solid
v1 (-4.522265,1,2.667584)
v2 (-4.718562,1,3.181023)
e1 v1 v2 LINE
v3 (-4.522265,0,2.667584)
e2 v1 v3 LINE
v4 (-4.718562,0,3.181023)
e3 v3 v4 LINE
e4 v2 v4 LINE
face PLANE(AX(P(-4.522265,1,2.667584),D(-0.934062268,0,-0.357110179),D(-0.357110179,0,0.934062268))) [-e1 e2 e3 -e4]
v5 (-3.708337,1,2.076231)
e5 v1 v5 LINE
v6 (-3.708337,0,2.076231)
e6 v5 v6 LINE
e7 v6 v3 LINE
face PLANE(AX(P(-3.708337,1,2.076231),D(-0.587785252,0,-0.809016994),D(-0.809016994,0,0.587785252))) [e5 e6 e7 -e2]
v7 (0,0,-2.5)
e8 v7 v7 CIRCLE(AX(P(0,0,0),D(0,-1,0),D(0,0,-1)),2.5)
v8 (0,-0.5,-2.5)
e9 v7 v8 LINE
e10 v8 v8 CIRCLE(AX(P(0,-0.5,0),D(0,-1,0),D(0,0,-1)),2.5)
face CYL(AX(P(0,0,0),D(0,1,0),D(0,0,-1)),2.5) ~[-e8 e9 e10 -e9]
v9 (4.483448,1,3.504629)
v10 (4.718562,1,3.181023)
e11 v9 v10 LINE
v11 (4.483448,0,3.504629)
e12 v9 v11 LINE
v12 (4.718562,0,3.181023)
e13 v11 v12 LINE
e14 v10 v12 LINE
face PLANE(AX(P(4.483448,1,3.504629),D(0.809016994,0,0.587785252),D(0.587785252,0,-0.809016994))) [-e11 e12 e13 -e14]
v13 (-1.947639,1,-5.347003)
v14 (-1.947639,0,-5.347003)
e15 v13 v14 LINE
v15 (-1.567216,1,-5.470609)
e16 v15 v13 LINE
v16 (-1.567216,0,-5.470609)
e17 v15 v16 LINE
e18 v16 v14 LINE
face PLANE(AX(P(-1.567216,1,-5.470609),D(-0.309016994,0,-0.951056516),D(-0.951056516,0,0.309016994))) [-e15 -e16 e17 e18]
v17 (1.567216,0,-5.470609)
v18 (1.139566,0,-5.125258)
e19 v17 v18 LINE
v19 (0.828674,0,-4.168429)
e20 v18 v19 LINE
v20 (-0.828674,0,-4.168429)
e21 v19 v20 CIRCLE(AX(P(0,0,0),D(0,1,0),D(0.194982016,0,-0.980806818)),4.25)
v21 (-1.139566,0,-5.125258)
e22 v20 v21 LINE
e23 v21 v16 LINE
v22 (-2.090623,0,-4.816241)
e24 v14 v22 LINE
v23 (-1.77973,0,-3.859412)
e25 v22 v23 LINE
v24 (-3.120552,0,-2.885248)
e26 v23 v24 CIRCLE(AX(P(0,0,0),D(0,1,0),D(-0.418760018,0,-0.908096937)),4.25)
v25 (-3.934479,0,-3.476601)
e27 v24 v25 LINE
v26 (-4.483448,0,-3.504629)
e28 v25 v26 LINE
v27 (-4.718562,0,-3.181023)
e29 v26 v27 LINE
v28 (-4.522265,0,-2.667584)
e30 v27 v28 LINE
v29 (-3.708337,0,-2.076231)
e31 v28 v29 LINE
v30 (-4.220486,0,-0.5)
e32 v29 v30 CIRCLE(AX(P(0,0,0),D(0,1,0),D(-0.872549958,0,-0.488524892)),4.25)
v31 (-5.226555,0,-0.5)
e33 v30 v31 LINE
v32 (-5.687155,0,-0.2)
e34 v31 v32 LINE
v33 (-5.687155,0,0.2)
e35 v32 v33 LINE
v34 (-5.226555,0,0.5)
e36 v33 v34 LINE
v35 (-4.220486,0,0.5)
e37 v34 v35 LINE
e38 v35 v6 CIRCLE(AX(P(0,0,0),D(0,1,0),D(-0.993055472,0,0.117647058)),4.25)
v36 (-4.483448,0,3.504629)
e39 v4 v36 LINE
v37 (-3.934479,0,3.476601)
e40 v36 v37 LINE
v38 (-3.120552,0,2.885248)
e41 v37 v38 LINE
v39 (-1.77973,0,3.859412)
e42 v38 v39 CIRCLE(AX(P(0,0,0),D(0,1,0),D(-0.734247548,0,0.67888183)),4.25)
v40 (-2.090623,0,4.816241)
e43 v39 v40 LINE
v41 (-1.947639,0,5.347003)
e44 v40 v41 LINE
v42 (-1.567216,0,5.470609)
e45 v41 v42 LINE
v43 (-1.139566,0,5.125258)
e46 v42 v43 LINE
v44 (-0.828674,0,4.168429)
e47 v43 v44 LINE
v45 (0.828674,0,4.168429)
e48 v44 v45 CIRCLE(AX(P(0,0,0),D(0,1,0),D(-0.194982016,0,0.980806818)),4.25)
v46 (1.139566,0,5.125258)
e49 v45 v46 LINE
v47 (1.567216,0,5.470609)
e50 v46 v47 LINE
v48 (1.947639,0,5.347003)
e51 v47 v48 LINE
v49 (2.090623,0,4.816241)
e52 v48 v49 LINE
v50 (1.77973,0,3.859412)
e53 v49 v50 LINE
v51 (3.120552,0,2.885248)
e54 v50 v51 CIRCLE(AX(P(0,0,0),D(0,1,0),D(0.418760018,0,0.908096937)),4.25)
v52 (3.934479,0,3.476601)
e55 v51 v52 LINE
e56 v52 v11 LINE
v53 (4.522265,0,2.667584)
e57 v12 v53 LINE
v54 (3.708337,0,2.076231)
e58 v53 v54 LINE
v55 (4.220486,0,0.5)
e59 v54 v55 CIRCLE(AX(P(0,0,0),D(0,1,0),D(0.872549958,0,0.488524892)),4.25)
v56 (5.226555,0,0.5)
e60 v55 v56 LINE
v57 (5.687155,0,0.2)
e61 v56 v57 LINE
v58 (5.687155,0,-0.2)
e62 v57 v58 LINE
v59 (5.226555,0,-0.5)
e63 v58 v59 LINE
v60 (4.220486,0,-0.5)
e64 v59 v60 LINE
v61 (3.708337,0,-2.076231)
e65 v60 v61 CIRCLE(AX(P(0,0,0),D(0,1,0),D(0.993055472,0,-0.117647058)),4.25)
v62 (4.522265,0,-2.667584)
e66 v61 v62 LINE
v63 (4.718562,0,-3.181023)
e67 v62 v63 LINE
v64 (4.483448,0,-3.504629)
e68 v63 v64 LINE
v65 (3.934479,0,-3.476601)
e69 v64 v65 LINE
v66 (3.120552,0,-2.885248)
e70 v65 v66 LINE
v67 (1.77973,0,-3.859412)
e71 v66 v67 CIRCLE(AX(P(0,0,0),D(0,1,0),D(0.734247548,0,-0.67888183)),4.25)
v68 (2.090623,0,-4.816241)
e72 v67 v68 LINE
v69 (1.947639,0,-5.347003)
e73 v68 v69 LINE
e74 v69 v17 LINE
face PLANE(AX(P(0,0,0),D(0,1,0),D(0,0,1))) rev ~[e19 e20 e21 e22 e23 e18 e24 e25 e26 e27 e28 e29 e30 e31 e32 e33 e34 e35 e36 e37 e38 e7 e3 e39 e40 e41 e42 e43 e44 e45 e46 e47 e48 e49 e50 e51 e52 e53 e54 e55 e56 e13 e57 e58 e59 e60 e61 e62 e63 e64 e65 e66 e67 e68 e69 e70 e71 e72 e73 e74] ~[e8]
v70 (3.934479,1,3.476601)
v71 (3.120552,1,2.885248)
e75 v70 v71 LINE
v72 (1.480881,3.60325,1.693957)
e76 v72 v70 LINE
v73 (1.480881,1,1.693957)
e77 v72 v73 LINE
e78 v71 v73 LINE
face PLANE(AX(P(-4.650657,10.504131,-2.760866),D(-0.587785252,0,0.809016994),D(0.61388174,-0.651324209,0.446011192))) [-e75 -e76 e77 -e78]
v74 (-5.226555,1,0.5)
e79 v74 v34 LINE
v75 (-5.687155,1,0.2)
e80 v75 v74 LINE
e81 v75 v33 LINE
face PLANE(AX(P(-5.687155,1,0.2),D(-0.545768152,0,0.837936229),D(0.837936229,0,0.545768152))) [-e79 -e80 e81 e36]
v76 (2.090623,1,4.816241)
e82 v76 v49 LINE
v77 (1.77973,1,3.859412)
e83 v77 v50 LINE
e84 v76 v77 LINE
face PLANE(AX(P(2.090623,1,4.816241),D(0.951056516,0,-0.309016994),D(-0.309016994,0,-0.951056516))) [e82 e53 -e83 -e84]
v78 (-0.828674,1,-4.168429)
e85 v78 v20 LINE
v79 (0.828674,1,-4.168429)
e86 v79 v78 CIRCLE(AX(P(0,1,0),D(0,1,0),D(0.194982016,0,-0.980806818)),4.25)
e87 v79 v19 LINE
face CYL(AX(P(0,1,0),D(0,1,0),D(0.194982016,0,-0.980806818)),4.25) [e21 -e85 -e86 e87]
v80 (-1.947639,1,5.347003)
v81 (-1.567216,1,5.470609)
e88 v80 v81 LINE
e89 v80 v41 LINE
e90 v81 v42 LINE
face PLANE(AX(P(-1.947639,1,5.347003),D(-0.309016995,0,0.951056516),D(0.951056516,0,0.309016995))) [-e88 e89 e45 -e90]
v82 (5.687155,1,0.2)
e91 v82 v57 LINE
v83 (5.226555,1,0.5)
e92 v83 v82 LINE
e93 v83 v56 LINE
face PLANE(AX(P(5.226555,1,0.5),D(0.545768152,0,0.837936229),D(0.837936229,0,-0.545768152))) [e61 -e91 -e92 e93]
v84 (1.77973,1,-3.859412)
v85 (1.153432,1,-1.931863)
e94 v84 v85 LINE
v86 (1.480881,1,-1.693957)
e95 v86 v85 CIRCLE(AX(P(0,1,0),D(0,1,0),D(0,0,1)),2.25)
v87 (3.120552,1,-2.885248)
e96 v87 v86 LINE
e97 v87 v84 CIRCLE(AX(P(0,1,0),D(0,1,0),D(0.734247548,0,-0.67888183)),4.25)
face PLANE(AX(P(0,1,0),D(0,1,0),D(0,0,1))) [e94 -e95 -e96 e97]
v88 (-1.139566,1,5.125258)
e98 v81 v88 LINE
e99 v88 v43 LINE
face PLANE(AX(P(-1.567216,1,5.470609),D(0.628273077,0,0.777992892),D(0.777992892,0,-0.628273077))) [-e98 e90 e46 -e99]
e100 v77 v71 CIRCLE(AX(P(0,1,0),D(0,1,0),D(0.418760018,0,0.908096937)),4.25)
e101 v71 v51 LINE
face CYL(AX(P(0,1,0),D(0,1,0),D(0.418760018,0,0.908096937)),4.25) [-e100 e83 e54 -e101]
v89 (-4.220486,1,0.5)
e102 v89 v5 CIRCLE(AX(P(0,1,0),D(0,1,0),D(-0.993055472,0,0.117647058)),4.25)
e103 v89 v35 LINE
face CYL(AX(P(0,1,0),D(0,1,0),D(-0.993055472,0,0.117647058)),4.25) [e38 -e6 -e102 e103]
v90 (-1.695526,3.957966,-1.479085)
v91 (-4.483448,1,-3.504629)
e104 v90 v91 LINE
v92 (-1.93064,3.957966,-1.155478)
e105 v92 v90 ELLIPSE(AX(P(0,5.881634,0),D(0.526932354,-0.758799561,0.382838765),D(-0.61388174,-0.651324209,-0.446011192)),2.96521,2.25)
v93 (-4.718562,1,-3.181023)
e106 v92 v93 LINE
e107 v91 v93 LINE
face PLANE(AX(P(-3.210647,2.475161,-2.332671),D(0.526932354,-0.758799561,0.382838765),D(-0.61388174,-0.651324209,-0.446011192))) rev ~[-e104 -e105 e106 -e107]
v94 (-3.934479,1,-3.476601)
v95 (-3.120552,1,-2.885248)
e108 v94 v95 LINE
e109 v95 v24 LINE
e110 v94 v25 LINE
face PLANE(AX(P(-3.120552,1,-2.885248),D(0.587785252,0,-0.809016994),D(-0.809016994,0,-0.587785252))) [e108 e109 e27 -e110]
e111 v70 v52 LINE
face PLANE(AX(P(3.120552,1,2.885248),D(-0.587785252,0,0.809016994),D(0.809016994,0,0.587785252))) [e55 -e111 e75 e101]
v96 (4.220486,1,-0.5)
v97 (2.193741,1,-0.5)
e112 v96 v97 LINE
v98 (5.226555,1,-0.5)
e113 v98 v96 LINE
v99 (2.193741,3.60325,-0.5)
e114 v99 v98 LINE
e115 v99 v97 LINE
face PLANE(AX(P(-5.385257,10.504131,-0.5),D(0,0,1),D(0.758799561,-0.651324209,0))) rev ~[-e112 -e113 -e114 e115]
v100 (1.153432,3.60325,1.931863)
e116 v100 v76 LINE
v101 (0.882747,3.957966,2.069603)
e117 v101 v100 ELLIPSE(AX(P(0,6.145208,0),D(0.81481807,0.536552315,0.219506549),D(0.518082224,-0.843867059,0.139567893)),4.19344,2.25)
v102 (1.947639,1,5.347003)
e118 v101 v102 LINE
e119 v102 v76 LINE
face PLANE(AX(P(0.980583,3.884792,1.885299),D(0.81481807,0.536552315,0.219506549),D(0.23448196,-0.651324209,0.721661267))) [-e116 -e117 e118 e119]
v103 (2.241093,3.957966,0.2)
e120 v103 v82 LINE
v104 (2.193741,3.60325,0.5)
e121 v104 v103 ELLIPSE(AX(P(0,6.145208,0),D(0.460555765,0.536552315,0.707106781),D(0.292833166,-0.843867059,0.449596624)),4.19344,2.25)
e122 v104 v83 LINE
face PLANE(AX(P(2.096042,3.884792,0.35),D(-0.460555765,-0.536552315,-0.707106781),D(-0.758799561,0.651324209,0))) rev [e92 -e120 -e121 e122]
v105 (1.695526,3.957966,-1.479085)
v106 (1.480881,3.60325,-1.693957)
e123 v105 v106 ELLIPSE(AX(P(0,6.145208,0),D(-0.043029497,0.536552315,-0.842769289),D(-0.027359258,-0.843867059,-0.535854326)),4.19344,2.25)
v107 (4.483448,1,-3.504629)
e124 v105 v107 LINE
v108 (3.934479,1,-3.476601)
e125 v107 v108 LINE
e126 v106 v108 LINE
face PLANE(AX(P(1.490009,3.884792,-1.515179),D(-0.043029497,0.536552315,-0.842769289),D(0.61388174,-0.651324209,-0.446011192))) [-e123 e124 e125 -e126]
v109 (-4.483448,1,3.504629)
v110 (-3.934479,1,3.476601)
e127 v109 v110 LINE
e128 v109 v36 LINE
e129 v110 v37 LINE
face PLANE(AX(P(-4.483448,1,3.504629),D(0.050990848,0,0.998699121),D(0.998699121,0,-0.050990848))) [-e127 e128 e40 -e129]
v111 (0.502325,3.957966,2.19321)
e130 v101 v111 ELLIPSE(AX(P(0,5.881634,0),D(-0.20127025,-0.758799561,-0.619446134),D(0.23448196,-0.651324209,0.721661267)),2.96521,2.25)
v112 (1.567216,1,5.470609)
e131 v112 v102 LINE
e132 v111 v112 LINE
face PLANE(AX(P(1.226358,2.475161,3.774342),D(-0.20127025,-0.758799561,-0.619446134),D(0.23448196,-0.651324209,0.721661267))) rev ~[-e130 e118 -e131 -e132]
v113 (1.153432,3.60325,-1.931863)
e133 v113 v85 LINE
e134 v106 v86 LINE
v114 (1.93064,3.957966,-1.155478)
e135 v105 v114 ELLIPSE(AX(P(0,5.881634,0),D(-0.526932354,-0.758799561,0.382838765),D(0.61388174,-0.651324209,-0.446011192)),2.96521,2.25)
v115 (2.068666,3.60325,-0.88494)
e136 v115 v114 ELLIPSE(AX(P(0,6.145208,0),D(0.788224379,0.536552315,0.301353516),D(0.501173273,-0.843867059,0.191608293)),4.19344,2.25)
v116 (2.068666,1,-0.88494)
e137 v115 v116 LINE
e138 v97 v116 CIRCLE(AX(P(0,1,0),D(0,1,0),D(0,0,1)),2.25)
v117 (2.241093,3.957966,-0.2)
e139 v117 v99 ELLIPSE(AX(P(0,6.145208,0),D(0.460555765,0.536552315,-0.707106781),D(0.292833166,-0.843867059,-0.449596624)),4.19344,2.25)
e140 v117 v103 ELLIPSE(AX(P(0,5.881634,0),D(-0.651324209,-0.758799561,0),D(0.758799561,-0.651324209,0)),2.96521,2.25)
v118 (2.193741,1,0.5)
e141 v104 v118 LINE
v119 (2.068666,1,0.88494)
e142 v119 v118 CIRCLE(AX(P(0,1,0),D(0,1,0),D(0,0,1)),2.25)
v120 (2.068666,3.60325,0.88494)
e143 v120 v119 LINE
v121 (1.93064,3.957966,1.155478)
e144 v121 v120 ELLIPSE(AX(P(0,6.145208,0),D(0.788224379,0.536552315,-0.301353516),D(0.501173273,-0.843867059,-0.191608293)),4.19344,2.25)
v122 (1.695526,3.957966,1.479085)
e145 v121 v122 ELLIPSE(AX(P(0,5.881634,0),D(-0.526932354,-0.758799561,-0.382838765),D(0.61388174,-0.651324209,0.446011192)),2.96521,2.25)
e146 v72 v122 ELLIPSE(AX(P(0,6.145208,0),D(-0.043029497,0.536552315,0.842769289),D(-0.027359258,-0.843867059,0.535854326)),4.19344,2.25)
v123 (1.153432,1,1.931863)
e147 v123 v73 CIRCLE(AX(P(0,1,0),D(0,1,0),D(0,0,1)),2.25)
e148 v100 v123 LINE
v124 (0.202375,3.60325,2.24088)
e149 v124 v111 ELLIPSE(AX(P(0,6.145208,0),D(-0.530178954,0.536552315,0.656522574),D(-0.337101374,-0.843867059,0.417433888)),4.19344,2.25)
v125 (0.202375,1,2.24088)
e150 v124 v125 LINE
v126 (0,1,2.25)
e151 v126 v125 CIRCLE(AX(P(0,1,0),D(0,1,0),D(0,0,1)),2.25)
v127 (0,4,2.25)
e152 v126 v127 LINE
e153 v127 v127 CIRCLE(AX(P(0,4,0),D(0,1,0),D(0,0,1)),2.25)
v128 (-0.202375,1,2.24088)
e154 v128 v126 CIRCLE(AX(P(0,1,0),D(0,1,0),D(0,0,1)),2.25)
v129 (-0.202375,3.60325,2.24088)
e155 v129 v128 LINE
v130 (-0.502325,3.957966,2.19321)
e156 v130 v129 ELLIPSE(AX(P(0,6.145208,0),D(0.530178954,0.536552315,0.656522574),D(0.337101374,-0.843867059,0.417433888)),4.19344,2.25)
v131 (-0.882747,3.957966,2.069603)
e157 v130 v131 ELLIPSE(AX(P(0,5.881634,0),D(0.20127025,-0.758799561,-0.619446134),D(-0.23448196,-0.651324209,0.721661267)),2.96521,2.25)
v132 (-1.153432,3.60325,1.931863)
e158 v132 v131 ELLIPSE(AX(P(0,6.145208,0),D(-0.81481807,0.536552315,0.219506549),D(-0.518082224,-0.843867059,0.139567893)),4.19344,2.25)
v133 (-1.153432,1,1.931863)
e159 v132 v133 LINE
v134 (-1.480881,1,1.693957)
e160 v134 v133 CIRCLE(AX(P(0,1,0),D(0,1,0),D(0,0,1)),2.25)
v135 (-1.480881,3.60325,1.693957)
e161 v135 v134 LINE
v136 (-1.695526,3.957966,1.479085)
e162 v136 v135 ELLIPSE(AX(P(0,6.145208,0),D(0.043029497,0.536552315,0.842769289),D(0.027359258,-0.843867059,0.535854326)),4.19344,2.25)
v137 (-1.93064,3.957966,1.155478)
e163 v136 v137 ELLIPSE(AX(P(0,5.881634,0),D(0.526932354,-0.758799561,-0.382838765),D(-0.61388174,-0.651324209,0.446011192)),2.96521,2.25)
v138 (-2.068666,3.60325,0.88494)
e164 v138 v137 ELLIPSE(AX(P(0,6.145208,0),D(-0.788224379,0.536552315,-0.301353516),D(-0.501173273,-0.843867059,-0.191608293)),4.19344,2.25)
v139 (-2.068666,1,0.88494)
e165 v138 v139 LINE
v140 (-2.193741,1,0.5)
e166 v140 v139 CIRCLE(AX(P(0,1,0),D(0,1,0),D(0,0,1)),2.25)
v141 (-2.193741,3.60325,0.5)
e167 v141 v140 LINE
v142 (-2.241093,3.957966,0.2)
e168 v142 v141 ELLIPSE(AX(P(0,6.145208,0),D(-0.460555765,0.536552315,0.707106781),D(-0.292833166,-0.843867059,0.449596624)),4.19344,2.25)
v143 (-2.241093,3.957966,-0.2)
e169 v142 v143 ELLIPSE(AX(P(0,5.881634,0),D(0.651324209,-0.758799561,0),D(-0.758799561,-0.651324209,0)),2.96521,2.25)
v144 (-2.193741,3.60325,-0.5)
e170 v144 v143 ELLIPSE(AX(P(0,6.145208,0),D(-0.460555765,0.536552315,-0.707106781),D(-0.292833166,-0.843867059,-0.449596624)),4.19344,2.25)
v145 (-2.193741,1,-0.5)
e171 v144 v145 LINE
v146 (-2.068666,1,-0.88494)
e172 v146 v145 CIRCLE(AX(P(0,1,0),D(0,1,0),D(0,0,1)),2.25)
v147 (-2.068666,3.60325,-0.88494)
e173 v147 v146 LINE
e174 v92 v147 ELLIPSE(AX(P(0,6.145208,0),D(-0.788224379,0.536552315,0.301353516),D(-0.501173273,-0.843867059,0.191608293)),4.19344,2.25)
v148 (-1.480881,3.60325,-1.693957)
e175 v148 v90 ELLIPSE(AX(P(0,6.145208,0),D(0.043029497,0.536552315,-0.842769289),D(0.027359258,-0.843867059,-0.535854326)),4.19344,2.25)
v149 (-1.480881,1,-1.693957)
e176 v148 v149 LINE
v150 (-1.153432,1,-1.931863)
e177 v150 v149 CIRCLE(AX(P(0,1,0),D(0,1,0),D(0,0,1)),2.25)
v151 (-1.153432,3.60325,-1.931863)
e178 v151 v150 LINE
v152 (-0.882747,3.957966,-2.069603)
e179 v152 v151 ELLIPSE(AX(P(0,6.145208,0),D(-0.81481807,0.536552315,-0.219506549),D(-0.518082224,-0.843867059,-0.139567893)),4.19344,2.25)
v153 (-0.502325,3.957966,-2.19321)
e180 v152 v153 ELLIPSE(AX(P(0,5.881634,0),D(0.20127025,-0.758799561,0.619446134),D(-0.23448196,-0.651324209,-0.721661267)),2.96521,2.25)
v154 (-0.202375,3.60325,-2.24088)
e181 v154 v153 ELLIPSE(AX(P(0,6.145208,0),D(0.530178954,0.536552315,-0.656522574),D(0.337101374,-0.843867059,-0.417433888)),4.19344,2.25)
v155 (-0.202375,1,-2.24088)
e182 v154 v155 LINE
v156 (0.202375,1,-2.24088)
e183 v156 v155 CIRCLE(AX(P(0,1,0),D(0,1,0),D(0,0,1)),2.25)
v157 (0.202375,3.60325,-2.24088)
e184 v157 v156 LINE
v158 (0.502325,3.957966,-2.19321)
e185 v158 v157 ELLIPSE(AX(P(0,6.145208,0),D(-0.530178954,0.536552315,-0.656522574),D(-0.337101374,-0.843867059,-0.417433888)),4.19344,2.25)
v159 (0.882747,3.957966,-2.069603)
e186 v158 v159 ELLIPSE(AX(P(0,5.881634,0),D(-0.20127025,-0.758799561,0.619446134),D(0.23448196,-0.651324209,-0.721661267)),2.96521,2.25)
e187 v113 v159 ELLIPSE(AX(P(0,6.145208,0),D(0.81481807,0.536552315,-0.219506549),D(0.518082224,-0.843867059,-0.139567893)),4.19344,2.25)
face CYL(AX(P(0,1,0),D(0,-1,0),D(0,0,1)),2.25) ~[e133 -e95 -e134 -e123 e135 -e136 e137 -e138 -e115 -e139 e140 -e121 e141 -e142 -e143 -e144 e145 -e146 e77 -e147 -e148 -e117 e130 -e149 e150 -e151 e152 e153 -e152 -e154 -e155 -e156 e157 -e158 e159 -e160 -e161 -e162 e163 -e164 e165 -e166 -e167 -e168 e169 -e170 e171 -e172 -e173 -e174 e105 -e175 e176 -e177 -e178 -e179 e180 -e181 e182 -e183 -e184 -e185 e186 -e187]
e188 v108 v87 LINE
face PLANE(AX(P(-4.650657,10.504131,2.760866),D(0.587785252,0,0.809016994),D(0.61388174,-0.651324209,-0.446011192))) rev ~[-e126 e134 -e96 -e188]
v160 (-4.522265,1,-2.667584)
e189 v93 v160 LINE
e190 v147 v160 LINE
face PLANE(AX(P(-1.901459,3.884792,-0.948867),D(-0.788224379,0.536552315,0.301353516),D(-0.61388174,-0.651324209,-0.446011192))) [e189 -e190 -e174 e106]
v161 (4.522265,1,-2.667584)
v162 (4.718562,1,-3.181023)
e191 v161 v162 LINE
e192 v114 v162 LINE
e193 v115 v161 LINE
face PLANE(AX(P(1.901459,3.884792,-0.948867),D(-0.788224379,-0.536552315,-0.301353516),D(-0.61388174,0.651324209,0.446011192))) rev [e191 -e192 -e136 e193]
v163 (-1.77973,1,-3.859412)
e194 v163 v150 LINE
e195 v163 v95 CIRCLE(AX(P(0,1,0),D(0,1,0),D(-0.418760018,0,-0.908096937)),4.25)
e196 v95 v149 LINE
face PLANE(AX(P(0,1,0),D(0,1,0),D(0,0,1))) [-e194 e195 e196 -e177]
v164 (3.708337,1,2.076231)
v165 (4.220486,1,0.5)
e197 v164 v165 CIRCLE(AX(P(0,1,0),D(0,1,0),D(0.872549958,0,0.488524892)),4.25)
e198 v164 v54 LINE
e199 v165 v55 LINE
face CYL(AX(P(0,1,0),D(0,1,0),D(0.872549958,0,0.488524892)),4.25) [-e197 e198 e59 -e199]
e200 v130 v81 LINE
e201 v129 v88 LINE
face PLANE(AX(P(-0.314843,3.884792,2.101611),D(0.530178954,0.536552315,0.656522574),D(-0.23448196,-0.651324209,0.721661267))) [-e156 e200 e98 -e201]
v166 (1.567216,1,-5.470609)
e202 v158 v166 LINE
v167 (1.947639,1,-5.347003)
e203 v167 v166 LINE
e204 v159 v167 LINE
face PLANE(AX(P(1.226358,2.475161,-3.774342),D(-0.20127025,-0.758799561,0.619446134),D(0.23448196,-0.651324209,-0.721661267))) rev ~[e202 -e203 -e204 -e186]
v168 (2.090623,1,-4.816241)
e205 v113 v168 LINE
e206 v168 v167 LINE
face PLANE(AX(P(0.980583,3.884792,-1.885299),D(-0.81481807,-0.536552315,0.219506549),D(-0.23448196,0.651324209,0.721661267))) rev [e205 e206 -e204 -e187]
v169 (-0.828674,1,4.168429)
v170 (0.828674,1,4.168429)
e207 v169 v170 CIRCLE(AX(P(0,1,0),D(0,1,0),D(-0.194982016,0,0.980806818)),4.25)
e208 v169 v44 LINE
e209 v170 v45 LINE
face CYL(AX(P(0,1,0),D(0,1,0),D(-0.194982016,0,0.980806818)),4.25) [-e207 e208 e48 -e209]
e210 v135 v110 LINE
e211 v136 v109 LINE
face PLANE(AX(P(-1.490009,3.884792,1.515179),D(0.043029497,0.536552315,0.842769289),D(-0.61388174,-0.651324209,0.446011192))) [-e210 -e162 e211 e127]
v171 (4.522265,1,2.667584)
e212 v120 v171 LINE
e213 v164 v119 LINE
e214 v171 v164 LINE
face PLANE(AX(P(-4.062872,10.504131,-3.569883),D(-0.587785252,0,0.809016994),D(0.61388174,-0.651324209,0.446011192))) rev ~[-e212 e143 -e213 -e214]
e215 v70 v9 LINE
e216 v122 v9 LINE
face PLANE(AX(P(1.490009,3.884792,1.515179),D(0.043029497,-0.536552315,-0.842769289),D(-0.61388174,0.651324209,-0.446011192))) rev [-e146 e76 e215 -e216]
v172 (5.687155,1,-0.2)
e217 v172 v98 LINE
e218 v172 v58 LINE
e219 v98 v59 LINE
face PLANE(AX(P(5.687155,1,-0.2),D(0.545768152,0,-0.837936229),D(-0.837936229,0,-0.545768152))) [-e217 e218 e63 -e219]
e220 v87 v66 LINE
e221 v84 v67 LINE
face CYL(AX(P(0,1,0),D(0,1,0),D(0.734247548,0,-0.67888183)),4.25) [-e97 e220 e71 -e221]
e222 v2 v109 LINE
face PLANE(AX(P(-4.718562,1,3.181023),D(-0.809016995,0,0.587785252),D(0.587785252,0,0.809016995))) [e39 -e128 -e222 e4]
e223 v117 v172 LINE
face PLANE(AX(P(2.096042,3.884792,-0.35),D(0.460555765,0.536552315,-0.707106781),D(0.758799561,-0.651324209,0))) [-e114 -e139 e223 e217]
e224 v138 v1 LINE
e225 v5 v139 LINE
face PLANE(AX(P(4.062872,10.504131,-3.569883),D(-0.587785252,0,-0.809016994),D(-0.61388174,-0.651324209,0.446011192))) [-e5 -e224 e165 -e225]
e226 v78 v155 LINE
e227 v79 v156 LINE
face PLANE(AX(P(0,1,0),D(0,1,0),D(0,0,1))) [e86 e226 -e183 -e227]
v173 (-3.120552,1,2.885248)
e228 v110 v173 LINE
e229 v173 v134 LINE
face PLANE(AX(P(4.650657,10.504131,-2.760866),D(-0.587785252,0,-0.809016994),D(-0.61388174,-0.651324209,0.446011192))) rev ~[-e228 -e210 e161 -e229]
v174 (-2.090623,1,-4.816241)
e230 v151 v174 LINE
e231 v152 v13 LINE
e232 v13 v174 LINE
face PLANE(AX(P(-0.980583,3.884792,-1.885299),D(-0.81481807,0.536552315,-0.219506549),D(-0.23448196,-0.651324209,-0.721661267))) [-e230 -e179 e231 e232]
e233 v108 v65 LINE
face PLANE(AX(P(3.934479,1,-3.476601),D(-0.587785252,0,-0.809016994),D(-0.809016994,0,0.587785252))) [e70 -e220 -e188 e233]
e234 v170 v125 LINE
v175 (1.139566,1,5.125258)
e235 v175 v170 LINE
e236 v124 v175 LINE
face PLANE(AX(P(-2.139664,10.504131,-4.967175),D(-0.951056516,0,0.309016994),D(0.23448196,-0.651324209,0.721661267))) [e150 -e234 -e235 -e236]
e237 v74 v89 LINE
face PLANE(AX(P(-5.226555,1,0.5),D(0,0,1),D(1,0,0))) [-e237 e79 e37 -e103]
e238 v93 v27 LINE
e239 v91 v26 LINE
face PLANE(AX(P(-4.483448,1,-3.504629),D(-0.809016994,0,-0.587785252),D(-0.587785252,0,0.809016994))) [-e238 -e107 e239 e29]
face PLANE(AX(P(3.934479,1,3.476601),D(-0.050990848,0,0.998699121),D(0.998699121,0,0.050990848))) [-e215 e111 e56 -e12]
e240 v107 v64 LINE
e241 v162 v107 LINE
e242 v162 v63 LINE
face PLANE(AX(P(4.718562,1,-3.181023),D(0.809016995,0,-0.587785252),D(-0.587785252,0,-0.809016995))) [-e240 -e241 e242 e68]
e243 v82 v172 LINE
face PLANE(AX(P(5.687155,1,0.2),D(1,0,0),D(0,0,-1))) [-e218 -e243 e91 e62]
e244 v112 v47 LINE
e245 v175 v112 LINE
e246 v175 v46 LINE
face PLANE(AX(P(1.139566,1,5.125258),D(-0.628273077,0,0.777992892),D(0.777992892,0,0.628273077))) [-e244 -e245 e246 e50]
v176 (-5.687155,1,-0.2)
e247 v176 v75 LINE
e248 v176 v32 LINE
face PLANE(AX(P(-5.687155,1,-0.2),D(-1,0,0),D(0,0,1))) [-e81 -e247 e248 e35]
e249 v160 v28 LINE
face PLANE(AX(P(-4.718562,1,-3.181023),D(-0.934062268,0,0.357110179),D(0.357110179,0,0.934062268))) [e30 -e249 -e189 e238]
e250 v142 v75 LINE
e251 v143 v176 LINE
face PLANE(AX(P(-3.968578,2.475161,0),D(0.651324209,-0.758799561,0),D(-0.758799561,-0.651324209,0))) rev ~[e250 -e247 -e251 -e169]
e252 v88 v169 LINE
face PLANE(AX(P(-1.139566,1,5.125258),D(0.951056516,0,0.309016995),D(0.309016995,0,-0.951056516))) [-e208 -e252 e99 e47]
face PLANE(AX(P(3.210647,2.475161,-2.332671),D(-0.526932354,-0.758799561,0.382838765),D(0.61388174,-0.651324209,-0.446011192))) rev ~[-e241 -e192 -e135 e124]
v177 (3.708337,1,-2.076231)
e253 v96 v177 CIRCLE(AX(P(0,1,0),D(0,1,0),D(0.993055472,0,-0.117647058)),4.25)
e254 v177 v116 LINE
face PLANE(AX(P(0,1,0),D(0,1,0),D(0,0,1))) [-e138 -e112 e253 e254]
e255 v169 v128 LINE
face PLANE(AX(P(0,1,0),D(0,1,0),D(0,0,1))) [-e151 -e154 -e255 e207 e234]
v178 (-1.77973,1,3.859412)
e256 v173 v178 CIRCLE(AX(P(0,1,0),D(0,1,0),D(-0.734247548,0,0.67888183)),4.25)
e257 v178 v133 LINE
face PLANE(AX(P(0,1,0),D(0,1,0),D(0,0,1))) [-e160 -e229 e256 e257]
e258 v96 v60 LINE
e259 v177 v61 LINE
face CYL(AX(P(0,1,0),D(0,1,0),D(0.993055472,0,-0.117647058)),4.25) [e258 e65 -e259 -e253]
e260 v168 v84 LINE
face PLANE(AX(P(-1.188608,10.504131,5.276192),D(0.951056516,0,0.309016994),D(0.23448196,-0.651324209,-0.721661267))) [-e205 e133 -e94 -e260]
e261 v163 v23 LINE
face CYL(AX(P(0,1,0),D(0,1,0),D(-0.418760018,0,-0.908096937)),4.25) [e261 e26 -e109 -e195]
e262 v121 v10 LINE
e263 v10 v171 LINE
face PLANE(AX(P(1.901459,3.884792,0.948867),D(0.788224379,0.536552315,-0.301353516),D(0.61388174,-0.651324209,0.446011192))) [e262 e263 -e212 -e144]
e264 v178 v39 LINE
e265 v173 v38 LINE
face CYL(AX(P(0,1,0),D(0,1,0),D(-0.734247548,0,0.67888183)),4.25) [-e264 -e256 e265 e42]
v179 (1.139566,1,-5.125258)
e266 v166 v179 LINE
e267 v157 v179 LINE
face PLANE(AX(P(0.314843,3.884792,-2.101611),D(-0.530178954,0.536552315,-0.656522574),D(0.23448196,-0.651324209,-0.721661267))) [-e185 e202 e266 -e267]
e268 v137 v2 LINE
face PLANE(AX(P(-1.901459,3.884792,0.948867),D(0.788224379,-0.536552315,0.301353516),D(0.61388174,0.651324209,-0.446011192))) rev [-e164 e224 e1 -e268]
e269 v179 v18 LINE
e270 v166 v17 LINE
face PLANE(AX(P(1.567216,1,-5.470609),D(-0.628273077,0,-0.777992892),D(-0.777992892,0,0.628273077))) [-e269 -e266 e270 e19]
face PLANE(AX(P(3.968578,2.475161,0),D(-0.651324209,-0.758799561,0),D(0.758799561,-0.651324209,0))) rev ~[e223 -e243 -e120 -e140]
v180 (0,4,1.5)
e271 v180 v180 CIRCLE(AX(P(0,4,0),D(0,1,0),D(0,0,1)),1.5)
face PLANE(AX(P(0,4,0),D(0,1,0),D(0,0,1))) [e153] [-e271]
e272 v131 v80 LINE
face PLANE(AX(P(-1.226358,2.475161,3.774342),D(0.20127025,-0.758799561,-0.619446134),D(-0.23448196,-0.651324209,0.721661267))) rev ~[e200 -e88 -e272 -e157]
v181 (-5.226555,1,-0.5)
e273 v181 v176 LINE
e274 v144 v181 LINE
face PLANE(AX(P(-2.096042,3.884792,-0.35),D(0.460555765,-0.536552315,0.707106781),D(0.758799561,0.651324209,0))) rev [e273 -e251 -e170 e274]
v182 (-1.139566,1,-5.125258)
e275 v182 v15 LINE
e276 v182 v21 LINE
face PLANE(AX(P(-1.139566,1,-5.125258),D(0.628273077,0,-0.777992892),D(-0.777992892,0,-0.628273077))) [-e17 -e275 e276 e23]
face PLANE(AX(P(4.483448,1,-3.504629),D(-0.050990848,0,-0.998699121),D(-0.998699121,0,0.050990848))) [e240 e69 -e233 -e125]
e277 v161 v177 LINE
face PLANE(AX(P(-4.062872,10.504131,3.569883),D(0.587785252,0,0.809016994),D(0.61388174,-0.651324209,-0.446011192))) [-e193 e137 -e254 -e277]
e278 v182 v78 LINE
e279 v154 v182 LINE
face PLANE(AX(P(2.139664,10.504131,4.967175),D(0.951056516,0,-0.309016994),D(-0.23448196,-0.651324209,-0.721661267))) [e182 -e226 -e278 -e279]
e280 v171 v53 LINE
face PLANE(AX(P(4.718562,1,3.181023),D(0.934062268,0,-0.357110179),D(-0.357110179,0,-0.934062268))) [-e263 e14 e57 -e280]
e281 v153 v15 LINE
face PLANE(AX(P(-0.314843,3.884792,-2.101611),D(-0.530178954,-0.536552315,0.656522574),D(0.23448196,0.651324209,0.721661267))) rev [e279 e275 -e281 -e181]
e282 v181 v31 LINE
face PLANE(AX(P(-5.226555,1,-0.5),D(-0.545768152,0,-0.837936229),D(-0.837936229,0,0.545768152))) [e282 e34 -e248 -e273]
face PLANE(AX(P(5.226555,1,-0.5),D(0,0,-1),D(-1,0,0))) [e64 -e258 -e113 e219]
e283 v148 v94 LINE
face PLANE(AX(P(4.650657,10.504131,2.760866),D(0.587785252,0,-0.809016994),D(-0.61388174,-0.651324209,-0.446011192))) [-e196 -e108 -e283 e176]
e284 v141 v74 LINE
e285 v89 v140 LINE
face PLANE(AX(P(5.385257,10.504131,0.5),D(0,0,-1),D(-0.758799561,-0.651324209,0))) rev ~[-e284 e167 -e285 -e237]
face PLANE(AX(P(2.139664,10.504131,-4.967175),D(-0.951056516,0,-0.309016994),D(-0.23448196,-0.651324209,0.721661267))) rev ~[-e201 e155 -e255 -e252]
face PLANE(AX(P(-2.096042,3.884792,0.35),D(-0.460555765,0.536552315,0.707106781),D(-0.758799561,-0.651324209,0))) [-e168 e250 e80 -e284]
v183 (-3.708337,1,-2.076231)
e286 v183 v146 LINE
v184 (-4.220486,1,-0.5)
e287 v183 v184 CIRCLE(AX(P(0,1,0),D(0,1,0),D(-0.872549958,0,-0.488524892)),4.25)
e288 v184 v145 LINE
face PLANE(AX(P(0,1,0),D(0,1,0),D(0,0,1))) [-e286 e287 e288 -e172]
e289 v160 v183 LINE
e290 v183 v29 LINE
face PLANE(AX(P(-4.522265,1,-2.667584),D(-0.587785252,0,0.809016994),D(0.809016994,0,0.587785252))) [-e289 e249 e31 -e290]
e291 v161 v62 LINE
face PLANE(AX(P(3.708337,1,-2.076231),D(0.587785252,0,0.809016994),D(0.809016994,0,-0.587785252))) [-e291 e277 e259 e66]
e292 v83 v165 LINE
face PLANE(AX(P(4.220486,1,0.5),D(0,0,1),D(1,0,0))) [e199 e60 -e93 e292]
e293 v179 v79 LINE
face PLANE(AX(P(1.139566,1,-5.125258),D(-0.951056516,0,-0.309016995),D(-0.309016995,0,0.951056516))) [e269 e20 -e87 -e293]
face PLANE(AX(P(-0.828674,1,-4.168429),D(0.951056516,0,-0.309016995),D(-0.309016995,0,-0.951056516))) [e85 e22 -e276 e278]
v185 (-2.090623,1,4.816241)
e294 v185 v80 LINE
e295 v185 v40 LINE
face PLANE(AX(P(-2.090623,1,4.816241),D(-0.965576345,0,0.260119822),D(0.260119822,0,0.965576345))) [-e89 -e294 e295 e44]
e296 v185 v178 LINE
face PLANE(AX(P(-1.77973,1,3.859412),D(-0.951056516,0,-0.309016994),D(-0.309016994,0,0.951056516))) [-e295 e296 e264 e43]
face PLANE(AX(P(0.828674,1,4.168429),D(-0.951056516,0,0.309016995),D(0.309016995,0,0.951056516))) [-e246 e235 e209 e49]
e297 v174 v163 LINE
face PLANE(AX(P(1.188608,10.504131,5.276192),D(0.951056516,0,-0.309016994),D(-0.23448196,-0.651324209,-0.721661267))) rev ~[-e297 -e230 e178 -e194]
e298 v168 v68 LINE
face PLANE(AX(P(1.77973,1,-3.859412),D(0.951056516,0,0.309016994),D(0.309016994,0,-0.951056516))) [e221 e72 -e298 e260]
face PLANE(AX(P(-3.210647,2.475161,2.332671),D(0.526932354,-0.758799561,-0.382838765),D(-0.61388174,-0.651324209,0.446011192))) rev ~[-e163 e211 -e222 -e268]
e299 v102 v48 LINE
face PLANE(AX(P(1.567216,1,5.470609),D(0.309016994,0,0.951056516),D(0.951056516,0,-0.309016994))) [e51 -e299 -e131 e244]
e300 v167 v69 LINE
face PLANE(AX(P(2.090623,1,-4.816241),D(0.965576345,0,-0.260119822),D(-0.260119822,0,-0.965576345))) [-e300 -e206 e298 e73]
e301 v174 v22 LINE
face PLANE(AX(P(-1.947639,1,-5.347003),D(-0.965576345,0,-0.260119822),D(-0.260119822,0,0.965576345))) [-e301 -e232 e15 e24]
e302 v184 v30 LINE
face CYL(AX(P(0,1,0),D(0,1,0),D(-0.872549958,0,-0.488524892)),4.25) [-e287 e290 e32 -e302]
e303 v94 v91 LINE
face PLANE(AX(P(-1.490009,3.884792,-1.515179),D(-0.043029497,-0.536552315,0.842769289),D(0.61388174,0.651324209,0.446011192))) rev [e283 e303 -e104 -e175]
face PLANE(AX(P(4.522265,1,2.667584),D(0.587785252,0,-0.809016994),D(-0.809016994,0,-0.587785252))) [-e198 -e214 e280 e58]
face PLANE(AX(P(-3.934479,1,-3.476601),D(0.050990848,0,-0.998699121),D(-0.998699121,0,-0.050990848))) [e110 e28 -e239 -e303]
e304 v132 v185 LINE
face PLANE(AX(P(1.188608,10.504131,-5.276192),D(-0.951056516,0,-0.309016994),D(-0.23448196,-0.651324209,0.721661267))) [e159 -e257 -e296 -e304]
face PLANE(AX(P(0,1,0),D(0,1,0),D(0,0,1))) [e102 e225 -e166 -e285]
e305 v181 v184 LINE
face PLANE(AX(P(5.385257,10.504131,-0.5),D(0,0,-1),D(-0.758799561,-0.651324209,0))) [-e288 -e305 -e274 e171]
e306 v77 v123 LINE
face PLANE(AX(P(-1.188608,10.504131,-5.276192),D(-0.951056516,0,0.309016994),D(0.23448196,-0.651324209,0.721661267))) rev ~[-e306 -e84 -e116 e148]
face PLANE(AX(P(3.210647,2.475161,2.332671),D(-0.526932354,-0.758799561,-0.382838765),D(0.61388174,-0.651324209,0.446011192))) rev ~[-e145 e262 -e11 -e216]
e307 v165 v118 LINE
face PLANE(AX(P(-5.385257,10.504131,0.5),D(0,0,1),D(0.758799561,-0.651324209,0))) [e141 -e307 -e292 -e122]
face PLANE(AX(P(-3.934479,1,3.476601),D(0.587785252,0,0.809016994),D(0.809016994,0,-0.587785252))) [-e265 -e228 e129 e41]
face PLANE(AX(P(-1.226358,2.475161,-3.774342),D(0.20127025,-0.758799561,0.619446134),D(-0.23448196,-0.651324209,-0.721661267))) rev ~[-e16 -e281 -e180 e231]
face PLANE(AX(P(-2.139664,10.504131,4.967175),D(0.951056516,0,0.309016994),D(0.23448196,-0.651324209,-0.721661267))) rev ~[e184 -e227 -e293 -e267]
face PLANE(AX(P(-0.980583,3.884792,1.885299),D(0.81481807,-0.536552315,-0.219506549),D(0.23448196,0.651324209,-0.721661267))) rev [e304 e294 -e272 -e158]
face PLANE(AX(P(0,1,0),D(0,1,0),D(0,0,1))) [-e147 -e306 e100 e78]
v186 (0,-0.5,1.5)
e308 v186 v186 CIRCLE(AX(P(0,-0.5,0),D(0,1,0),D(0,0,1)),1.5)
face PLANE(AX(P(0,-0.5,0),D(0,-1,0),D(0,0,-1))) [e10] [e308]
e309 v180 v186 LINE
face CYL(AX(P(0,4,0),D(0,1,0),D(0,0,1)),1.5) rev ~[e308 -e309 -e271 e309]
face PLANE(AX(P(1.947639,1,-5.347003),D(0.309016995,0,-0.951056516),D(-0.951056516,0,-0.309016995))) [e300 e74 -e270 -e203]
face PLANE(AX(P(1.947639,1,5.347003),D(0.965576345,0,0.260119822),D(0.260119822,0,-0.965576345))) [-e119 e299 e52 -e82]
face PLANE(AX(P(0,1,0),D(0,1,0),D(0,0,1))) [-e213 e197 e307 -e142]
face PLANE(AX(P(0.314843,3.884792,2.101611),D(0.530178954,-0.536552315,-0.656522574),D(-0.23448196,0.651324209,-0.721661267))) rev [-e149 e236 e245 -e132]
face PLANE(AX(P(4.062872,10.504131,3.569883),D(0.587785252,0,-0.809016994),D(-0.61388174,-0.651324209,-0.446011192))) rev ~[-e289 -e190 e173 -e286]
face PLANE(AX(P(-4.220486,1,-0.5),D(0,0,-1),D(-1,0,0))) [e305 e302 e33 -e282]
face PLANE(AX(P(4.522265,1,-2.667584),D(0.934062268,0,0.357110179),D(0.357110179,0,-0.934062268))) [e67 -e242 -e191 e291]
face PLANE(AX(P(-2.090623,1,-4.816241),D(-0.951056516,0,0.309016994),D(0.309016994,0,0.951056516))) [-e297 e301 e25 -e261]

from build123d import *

# Parameters (mm, degrees)
SKETCH1_R                    = 5.75
BOSS_EXTRUDE1_DEPTH          = 1
SKETCH2_R                    = 2.25
BOSS_EXTRUDE2_DEPTH          = 3
RIB2_REACH                   = 11.062
SKETCH3_WALL_W               = 24.654296494
SKETCH3_WALL_H               = 1
CHAMFER1_SIZE                = 0.3
CIRPATTERN1_COUNT            = 10
CHAMFER1_OF_CIRPATTERN1_SIZE = 0.3
SKETCH5_R                    = 2.5
BOSS_EXTRUDE4_DEPTH          = 0.5
SKETCH6_R                    = 1.5
CUT_EXTRUDE1_DEPTH           = 10.293815148
CUT_EXTRUDE2_DEPTH           = 9.667467912
CIRPATTERN2_COUNT            = 10


with BuildPart() as part:
    # Sketch1 → Boss-Extrude1 (new body)
    with BuildSketch(Plane(origin=(0, 0, 0), x_dir=(1, 0, 0), z_dir=(0, 1, 0))):
        with Locations(Location((0, 0, 0), (0, 0, 270))):
            Circle(SKETCH1_R)
    extrude(amount=BOSS_EXTRUDE1_DEPTH)

    # Sketch2 → Boss-Extrude2 (add)
    with BuildSketch(Plane(origin=(0, 1, 0), x_dir=(1, 0, 0), z_dir=(0, 1, 0))):
        with Locations(Location((0, 0, 0), (0, 0, 270))):
            Circle(SKETCH2_R)
    extrude(amount=BOSS_EXTRUDE2_DEPTH)

    # Sketch3 wall → Rib2 (add, up to next)
    with BuildSketch(Plane(origin=(-3.968577633, 2.475160602, 0), x_dir=(-0.758799561347, -0.651324209361, 0), z_dir=(0.651324209361, -0.758799561347, 0)), mode=Mode.PRIVATE) as rib2_sk1:
        Rectangle(SKETCH3_WALL_W, SKETCH3_WALL_H)
    rib2_tool1 = extrude(rib2_sk1.sketch, amount=RIB2_REACH, mode=Mode.PRIVATE) - part.part
    rib2 = rib2_tool1.solids().sort_by_distance((-3.968577633, 2.475160602, 0))[0]
    add(rib2)

    # Chamfer1
    chamfer1_edges = [part.edges().sort_by_distance(p)[0] for p in [
        (-3.940448181, 2.499305836, -0.5),
        (-3.940448181, 2.499305836, 0.5),
    ]]
    chamfer(chamfer1_edges, length=CHAMFER1_SIZE)

    # CirPattern1: Rib2 ×10 about axis
    cirpattern1_axis = Axis((0, 0, 0), (0, 1, 0))
    for i in range(1, CIRPATTERN1_COUNT):
        add(rib2.rotate(cirpattern1_axis, i * 360 / CIRPATTERN1_COUNT))

    # Chamfer1 of CirPattern1
    chamfer1_of_cirpattern1_edges = [part.edges().sort_by_distance(p)[0] for p in [
        (-3.48178217, 2.499305836, 1.911628831),
        (-2.893996918, 2.499305836, 2.720645826),
        (-1.693193712, 2.499305836, 3.593080423),
        (-0.742137195, 2.499305836, 3.902097417),
        (0.742137195, 2.499305836, 3.902097417),
        (1.693193712, 2.499305836, 3.593080423),
        (2.893996918, 2.499305836, 2.720645826),
        (3.48178217, 2.499305836, 1.911628831),
        (3.940448181, 2.499305836, 0.5),
        (3.940448181, 2.499305836, -0.5),
        (3.48178217, 2.499305836, -1.911628831),
        (2.893996918, 2.499305836, -2.720645826),
        (1.693193712, 2.499305836, -3.593080423),
        (0.742137195, 2.499305836, -3.902097417),
        (-0.742137195, 2.499305836, -3.902097417),
        (-1.693193712, 2.499305836, -3.593080423),
        (-2.893996918, 2.499305836, -2.720645826),
        (-3.48178217, 2.499305836, -1.911628831),
    ]]
    chamfer(chamfer1_of_cirpattern1_edges, length=CHAMFER1_OF_CIRPATTERN1_SIZE)

    # Sketch5 → Boss-Extrude4 (add)
    with BuildSketch(Plane.XZ):
        with Locations(Location((0, 0, 0), (0, 0, 270))):
            Circle(SKETCH5_R)
    extrude(amount=BOSS_EXTRUDE4_DEPTH)

    # Sketch6 → Cut-Extrude1 (cut, through all)
    with BuildSketch(Plane(origin=(0, 4, 0), x_dir=(1, 0, 0), z_dir=(0, 1, 0))):
        with Locations(Location((0, 0, 0), (0, 0, 270))):
            Circle(SKETCH6_R)
    extrude(amount=-CUT_EXTRUDE1_DEPTH, mode=Mode.SUBTRACT)

    # Sketch8 → Cut-Extrude2 (cut, through all)
    with BuildSketch(Plane(origin=(0, 1, 0), x_dir=(1, 0, 0), z_dir=(0, 1, 0))):
        with BuildLine():
            Line((-1.94763893, -5.347002675), (-1.567216323, -5.470609473))
            Line((-1.567216323, -5.470609473), (-1.139566108, -5.125257839))
            Line((-1.139566108, -5.125257839), (-0.828673564, -4.168428975))
            ThreePointArc((-0.828673564, -4.168428975), (0, -4.25), (0.828673564, -4.168428975))
            Line((0.828673564, -4.168428975), (1.139566108, -5.125257839))
            Line((1.139566108, -5.125257839), (1.567216323, -5.470609473))
            Line((1.567216323, -5.470609473), (1.649704909, -5.578945165))
            Line((1.649704909, -5.578945165), (0.683984218, -7.712906306))
            Line((0.683984218, -7.712906306), (-2.388981324, -6.322240681))
            Line((-2.388981324, -6.322240681), (-1.94763893, -5.347002675))
        make_face()
    cut_extrude2 = extrude(amount=-CUT_EXTRUDE2_DEPTH, mode=Mode.SUBTRACT)

    # CirPattern2: Cut-Extrude2 ×10 about axis
    cirpattern2_axis = Axis((0, 0, 0), (0, 1, 0))
    for i in range(1, CIRPATTERN2_COUNT):
        add(cut_extrude2.rotate(cirpattern2_axis, i * 360 / CIRPATTERN2_COUNT), mode=Mode.SUBTRACT)


solid = part.part
